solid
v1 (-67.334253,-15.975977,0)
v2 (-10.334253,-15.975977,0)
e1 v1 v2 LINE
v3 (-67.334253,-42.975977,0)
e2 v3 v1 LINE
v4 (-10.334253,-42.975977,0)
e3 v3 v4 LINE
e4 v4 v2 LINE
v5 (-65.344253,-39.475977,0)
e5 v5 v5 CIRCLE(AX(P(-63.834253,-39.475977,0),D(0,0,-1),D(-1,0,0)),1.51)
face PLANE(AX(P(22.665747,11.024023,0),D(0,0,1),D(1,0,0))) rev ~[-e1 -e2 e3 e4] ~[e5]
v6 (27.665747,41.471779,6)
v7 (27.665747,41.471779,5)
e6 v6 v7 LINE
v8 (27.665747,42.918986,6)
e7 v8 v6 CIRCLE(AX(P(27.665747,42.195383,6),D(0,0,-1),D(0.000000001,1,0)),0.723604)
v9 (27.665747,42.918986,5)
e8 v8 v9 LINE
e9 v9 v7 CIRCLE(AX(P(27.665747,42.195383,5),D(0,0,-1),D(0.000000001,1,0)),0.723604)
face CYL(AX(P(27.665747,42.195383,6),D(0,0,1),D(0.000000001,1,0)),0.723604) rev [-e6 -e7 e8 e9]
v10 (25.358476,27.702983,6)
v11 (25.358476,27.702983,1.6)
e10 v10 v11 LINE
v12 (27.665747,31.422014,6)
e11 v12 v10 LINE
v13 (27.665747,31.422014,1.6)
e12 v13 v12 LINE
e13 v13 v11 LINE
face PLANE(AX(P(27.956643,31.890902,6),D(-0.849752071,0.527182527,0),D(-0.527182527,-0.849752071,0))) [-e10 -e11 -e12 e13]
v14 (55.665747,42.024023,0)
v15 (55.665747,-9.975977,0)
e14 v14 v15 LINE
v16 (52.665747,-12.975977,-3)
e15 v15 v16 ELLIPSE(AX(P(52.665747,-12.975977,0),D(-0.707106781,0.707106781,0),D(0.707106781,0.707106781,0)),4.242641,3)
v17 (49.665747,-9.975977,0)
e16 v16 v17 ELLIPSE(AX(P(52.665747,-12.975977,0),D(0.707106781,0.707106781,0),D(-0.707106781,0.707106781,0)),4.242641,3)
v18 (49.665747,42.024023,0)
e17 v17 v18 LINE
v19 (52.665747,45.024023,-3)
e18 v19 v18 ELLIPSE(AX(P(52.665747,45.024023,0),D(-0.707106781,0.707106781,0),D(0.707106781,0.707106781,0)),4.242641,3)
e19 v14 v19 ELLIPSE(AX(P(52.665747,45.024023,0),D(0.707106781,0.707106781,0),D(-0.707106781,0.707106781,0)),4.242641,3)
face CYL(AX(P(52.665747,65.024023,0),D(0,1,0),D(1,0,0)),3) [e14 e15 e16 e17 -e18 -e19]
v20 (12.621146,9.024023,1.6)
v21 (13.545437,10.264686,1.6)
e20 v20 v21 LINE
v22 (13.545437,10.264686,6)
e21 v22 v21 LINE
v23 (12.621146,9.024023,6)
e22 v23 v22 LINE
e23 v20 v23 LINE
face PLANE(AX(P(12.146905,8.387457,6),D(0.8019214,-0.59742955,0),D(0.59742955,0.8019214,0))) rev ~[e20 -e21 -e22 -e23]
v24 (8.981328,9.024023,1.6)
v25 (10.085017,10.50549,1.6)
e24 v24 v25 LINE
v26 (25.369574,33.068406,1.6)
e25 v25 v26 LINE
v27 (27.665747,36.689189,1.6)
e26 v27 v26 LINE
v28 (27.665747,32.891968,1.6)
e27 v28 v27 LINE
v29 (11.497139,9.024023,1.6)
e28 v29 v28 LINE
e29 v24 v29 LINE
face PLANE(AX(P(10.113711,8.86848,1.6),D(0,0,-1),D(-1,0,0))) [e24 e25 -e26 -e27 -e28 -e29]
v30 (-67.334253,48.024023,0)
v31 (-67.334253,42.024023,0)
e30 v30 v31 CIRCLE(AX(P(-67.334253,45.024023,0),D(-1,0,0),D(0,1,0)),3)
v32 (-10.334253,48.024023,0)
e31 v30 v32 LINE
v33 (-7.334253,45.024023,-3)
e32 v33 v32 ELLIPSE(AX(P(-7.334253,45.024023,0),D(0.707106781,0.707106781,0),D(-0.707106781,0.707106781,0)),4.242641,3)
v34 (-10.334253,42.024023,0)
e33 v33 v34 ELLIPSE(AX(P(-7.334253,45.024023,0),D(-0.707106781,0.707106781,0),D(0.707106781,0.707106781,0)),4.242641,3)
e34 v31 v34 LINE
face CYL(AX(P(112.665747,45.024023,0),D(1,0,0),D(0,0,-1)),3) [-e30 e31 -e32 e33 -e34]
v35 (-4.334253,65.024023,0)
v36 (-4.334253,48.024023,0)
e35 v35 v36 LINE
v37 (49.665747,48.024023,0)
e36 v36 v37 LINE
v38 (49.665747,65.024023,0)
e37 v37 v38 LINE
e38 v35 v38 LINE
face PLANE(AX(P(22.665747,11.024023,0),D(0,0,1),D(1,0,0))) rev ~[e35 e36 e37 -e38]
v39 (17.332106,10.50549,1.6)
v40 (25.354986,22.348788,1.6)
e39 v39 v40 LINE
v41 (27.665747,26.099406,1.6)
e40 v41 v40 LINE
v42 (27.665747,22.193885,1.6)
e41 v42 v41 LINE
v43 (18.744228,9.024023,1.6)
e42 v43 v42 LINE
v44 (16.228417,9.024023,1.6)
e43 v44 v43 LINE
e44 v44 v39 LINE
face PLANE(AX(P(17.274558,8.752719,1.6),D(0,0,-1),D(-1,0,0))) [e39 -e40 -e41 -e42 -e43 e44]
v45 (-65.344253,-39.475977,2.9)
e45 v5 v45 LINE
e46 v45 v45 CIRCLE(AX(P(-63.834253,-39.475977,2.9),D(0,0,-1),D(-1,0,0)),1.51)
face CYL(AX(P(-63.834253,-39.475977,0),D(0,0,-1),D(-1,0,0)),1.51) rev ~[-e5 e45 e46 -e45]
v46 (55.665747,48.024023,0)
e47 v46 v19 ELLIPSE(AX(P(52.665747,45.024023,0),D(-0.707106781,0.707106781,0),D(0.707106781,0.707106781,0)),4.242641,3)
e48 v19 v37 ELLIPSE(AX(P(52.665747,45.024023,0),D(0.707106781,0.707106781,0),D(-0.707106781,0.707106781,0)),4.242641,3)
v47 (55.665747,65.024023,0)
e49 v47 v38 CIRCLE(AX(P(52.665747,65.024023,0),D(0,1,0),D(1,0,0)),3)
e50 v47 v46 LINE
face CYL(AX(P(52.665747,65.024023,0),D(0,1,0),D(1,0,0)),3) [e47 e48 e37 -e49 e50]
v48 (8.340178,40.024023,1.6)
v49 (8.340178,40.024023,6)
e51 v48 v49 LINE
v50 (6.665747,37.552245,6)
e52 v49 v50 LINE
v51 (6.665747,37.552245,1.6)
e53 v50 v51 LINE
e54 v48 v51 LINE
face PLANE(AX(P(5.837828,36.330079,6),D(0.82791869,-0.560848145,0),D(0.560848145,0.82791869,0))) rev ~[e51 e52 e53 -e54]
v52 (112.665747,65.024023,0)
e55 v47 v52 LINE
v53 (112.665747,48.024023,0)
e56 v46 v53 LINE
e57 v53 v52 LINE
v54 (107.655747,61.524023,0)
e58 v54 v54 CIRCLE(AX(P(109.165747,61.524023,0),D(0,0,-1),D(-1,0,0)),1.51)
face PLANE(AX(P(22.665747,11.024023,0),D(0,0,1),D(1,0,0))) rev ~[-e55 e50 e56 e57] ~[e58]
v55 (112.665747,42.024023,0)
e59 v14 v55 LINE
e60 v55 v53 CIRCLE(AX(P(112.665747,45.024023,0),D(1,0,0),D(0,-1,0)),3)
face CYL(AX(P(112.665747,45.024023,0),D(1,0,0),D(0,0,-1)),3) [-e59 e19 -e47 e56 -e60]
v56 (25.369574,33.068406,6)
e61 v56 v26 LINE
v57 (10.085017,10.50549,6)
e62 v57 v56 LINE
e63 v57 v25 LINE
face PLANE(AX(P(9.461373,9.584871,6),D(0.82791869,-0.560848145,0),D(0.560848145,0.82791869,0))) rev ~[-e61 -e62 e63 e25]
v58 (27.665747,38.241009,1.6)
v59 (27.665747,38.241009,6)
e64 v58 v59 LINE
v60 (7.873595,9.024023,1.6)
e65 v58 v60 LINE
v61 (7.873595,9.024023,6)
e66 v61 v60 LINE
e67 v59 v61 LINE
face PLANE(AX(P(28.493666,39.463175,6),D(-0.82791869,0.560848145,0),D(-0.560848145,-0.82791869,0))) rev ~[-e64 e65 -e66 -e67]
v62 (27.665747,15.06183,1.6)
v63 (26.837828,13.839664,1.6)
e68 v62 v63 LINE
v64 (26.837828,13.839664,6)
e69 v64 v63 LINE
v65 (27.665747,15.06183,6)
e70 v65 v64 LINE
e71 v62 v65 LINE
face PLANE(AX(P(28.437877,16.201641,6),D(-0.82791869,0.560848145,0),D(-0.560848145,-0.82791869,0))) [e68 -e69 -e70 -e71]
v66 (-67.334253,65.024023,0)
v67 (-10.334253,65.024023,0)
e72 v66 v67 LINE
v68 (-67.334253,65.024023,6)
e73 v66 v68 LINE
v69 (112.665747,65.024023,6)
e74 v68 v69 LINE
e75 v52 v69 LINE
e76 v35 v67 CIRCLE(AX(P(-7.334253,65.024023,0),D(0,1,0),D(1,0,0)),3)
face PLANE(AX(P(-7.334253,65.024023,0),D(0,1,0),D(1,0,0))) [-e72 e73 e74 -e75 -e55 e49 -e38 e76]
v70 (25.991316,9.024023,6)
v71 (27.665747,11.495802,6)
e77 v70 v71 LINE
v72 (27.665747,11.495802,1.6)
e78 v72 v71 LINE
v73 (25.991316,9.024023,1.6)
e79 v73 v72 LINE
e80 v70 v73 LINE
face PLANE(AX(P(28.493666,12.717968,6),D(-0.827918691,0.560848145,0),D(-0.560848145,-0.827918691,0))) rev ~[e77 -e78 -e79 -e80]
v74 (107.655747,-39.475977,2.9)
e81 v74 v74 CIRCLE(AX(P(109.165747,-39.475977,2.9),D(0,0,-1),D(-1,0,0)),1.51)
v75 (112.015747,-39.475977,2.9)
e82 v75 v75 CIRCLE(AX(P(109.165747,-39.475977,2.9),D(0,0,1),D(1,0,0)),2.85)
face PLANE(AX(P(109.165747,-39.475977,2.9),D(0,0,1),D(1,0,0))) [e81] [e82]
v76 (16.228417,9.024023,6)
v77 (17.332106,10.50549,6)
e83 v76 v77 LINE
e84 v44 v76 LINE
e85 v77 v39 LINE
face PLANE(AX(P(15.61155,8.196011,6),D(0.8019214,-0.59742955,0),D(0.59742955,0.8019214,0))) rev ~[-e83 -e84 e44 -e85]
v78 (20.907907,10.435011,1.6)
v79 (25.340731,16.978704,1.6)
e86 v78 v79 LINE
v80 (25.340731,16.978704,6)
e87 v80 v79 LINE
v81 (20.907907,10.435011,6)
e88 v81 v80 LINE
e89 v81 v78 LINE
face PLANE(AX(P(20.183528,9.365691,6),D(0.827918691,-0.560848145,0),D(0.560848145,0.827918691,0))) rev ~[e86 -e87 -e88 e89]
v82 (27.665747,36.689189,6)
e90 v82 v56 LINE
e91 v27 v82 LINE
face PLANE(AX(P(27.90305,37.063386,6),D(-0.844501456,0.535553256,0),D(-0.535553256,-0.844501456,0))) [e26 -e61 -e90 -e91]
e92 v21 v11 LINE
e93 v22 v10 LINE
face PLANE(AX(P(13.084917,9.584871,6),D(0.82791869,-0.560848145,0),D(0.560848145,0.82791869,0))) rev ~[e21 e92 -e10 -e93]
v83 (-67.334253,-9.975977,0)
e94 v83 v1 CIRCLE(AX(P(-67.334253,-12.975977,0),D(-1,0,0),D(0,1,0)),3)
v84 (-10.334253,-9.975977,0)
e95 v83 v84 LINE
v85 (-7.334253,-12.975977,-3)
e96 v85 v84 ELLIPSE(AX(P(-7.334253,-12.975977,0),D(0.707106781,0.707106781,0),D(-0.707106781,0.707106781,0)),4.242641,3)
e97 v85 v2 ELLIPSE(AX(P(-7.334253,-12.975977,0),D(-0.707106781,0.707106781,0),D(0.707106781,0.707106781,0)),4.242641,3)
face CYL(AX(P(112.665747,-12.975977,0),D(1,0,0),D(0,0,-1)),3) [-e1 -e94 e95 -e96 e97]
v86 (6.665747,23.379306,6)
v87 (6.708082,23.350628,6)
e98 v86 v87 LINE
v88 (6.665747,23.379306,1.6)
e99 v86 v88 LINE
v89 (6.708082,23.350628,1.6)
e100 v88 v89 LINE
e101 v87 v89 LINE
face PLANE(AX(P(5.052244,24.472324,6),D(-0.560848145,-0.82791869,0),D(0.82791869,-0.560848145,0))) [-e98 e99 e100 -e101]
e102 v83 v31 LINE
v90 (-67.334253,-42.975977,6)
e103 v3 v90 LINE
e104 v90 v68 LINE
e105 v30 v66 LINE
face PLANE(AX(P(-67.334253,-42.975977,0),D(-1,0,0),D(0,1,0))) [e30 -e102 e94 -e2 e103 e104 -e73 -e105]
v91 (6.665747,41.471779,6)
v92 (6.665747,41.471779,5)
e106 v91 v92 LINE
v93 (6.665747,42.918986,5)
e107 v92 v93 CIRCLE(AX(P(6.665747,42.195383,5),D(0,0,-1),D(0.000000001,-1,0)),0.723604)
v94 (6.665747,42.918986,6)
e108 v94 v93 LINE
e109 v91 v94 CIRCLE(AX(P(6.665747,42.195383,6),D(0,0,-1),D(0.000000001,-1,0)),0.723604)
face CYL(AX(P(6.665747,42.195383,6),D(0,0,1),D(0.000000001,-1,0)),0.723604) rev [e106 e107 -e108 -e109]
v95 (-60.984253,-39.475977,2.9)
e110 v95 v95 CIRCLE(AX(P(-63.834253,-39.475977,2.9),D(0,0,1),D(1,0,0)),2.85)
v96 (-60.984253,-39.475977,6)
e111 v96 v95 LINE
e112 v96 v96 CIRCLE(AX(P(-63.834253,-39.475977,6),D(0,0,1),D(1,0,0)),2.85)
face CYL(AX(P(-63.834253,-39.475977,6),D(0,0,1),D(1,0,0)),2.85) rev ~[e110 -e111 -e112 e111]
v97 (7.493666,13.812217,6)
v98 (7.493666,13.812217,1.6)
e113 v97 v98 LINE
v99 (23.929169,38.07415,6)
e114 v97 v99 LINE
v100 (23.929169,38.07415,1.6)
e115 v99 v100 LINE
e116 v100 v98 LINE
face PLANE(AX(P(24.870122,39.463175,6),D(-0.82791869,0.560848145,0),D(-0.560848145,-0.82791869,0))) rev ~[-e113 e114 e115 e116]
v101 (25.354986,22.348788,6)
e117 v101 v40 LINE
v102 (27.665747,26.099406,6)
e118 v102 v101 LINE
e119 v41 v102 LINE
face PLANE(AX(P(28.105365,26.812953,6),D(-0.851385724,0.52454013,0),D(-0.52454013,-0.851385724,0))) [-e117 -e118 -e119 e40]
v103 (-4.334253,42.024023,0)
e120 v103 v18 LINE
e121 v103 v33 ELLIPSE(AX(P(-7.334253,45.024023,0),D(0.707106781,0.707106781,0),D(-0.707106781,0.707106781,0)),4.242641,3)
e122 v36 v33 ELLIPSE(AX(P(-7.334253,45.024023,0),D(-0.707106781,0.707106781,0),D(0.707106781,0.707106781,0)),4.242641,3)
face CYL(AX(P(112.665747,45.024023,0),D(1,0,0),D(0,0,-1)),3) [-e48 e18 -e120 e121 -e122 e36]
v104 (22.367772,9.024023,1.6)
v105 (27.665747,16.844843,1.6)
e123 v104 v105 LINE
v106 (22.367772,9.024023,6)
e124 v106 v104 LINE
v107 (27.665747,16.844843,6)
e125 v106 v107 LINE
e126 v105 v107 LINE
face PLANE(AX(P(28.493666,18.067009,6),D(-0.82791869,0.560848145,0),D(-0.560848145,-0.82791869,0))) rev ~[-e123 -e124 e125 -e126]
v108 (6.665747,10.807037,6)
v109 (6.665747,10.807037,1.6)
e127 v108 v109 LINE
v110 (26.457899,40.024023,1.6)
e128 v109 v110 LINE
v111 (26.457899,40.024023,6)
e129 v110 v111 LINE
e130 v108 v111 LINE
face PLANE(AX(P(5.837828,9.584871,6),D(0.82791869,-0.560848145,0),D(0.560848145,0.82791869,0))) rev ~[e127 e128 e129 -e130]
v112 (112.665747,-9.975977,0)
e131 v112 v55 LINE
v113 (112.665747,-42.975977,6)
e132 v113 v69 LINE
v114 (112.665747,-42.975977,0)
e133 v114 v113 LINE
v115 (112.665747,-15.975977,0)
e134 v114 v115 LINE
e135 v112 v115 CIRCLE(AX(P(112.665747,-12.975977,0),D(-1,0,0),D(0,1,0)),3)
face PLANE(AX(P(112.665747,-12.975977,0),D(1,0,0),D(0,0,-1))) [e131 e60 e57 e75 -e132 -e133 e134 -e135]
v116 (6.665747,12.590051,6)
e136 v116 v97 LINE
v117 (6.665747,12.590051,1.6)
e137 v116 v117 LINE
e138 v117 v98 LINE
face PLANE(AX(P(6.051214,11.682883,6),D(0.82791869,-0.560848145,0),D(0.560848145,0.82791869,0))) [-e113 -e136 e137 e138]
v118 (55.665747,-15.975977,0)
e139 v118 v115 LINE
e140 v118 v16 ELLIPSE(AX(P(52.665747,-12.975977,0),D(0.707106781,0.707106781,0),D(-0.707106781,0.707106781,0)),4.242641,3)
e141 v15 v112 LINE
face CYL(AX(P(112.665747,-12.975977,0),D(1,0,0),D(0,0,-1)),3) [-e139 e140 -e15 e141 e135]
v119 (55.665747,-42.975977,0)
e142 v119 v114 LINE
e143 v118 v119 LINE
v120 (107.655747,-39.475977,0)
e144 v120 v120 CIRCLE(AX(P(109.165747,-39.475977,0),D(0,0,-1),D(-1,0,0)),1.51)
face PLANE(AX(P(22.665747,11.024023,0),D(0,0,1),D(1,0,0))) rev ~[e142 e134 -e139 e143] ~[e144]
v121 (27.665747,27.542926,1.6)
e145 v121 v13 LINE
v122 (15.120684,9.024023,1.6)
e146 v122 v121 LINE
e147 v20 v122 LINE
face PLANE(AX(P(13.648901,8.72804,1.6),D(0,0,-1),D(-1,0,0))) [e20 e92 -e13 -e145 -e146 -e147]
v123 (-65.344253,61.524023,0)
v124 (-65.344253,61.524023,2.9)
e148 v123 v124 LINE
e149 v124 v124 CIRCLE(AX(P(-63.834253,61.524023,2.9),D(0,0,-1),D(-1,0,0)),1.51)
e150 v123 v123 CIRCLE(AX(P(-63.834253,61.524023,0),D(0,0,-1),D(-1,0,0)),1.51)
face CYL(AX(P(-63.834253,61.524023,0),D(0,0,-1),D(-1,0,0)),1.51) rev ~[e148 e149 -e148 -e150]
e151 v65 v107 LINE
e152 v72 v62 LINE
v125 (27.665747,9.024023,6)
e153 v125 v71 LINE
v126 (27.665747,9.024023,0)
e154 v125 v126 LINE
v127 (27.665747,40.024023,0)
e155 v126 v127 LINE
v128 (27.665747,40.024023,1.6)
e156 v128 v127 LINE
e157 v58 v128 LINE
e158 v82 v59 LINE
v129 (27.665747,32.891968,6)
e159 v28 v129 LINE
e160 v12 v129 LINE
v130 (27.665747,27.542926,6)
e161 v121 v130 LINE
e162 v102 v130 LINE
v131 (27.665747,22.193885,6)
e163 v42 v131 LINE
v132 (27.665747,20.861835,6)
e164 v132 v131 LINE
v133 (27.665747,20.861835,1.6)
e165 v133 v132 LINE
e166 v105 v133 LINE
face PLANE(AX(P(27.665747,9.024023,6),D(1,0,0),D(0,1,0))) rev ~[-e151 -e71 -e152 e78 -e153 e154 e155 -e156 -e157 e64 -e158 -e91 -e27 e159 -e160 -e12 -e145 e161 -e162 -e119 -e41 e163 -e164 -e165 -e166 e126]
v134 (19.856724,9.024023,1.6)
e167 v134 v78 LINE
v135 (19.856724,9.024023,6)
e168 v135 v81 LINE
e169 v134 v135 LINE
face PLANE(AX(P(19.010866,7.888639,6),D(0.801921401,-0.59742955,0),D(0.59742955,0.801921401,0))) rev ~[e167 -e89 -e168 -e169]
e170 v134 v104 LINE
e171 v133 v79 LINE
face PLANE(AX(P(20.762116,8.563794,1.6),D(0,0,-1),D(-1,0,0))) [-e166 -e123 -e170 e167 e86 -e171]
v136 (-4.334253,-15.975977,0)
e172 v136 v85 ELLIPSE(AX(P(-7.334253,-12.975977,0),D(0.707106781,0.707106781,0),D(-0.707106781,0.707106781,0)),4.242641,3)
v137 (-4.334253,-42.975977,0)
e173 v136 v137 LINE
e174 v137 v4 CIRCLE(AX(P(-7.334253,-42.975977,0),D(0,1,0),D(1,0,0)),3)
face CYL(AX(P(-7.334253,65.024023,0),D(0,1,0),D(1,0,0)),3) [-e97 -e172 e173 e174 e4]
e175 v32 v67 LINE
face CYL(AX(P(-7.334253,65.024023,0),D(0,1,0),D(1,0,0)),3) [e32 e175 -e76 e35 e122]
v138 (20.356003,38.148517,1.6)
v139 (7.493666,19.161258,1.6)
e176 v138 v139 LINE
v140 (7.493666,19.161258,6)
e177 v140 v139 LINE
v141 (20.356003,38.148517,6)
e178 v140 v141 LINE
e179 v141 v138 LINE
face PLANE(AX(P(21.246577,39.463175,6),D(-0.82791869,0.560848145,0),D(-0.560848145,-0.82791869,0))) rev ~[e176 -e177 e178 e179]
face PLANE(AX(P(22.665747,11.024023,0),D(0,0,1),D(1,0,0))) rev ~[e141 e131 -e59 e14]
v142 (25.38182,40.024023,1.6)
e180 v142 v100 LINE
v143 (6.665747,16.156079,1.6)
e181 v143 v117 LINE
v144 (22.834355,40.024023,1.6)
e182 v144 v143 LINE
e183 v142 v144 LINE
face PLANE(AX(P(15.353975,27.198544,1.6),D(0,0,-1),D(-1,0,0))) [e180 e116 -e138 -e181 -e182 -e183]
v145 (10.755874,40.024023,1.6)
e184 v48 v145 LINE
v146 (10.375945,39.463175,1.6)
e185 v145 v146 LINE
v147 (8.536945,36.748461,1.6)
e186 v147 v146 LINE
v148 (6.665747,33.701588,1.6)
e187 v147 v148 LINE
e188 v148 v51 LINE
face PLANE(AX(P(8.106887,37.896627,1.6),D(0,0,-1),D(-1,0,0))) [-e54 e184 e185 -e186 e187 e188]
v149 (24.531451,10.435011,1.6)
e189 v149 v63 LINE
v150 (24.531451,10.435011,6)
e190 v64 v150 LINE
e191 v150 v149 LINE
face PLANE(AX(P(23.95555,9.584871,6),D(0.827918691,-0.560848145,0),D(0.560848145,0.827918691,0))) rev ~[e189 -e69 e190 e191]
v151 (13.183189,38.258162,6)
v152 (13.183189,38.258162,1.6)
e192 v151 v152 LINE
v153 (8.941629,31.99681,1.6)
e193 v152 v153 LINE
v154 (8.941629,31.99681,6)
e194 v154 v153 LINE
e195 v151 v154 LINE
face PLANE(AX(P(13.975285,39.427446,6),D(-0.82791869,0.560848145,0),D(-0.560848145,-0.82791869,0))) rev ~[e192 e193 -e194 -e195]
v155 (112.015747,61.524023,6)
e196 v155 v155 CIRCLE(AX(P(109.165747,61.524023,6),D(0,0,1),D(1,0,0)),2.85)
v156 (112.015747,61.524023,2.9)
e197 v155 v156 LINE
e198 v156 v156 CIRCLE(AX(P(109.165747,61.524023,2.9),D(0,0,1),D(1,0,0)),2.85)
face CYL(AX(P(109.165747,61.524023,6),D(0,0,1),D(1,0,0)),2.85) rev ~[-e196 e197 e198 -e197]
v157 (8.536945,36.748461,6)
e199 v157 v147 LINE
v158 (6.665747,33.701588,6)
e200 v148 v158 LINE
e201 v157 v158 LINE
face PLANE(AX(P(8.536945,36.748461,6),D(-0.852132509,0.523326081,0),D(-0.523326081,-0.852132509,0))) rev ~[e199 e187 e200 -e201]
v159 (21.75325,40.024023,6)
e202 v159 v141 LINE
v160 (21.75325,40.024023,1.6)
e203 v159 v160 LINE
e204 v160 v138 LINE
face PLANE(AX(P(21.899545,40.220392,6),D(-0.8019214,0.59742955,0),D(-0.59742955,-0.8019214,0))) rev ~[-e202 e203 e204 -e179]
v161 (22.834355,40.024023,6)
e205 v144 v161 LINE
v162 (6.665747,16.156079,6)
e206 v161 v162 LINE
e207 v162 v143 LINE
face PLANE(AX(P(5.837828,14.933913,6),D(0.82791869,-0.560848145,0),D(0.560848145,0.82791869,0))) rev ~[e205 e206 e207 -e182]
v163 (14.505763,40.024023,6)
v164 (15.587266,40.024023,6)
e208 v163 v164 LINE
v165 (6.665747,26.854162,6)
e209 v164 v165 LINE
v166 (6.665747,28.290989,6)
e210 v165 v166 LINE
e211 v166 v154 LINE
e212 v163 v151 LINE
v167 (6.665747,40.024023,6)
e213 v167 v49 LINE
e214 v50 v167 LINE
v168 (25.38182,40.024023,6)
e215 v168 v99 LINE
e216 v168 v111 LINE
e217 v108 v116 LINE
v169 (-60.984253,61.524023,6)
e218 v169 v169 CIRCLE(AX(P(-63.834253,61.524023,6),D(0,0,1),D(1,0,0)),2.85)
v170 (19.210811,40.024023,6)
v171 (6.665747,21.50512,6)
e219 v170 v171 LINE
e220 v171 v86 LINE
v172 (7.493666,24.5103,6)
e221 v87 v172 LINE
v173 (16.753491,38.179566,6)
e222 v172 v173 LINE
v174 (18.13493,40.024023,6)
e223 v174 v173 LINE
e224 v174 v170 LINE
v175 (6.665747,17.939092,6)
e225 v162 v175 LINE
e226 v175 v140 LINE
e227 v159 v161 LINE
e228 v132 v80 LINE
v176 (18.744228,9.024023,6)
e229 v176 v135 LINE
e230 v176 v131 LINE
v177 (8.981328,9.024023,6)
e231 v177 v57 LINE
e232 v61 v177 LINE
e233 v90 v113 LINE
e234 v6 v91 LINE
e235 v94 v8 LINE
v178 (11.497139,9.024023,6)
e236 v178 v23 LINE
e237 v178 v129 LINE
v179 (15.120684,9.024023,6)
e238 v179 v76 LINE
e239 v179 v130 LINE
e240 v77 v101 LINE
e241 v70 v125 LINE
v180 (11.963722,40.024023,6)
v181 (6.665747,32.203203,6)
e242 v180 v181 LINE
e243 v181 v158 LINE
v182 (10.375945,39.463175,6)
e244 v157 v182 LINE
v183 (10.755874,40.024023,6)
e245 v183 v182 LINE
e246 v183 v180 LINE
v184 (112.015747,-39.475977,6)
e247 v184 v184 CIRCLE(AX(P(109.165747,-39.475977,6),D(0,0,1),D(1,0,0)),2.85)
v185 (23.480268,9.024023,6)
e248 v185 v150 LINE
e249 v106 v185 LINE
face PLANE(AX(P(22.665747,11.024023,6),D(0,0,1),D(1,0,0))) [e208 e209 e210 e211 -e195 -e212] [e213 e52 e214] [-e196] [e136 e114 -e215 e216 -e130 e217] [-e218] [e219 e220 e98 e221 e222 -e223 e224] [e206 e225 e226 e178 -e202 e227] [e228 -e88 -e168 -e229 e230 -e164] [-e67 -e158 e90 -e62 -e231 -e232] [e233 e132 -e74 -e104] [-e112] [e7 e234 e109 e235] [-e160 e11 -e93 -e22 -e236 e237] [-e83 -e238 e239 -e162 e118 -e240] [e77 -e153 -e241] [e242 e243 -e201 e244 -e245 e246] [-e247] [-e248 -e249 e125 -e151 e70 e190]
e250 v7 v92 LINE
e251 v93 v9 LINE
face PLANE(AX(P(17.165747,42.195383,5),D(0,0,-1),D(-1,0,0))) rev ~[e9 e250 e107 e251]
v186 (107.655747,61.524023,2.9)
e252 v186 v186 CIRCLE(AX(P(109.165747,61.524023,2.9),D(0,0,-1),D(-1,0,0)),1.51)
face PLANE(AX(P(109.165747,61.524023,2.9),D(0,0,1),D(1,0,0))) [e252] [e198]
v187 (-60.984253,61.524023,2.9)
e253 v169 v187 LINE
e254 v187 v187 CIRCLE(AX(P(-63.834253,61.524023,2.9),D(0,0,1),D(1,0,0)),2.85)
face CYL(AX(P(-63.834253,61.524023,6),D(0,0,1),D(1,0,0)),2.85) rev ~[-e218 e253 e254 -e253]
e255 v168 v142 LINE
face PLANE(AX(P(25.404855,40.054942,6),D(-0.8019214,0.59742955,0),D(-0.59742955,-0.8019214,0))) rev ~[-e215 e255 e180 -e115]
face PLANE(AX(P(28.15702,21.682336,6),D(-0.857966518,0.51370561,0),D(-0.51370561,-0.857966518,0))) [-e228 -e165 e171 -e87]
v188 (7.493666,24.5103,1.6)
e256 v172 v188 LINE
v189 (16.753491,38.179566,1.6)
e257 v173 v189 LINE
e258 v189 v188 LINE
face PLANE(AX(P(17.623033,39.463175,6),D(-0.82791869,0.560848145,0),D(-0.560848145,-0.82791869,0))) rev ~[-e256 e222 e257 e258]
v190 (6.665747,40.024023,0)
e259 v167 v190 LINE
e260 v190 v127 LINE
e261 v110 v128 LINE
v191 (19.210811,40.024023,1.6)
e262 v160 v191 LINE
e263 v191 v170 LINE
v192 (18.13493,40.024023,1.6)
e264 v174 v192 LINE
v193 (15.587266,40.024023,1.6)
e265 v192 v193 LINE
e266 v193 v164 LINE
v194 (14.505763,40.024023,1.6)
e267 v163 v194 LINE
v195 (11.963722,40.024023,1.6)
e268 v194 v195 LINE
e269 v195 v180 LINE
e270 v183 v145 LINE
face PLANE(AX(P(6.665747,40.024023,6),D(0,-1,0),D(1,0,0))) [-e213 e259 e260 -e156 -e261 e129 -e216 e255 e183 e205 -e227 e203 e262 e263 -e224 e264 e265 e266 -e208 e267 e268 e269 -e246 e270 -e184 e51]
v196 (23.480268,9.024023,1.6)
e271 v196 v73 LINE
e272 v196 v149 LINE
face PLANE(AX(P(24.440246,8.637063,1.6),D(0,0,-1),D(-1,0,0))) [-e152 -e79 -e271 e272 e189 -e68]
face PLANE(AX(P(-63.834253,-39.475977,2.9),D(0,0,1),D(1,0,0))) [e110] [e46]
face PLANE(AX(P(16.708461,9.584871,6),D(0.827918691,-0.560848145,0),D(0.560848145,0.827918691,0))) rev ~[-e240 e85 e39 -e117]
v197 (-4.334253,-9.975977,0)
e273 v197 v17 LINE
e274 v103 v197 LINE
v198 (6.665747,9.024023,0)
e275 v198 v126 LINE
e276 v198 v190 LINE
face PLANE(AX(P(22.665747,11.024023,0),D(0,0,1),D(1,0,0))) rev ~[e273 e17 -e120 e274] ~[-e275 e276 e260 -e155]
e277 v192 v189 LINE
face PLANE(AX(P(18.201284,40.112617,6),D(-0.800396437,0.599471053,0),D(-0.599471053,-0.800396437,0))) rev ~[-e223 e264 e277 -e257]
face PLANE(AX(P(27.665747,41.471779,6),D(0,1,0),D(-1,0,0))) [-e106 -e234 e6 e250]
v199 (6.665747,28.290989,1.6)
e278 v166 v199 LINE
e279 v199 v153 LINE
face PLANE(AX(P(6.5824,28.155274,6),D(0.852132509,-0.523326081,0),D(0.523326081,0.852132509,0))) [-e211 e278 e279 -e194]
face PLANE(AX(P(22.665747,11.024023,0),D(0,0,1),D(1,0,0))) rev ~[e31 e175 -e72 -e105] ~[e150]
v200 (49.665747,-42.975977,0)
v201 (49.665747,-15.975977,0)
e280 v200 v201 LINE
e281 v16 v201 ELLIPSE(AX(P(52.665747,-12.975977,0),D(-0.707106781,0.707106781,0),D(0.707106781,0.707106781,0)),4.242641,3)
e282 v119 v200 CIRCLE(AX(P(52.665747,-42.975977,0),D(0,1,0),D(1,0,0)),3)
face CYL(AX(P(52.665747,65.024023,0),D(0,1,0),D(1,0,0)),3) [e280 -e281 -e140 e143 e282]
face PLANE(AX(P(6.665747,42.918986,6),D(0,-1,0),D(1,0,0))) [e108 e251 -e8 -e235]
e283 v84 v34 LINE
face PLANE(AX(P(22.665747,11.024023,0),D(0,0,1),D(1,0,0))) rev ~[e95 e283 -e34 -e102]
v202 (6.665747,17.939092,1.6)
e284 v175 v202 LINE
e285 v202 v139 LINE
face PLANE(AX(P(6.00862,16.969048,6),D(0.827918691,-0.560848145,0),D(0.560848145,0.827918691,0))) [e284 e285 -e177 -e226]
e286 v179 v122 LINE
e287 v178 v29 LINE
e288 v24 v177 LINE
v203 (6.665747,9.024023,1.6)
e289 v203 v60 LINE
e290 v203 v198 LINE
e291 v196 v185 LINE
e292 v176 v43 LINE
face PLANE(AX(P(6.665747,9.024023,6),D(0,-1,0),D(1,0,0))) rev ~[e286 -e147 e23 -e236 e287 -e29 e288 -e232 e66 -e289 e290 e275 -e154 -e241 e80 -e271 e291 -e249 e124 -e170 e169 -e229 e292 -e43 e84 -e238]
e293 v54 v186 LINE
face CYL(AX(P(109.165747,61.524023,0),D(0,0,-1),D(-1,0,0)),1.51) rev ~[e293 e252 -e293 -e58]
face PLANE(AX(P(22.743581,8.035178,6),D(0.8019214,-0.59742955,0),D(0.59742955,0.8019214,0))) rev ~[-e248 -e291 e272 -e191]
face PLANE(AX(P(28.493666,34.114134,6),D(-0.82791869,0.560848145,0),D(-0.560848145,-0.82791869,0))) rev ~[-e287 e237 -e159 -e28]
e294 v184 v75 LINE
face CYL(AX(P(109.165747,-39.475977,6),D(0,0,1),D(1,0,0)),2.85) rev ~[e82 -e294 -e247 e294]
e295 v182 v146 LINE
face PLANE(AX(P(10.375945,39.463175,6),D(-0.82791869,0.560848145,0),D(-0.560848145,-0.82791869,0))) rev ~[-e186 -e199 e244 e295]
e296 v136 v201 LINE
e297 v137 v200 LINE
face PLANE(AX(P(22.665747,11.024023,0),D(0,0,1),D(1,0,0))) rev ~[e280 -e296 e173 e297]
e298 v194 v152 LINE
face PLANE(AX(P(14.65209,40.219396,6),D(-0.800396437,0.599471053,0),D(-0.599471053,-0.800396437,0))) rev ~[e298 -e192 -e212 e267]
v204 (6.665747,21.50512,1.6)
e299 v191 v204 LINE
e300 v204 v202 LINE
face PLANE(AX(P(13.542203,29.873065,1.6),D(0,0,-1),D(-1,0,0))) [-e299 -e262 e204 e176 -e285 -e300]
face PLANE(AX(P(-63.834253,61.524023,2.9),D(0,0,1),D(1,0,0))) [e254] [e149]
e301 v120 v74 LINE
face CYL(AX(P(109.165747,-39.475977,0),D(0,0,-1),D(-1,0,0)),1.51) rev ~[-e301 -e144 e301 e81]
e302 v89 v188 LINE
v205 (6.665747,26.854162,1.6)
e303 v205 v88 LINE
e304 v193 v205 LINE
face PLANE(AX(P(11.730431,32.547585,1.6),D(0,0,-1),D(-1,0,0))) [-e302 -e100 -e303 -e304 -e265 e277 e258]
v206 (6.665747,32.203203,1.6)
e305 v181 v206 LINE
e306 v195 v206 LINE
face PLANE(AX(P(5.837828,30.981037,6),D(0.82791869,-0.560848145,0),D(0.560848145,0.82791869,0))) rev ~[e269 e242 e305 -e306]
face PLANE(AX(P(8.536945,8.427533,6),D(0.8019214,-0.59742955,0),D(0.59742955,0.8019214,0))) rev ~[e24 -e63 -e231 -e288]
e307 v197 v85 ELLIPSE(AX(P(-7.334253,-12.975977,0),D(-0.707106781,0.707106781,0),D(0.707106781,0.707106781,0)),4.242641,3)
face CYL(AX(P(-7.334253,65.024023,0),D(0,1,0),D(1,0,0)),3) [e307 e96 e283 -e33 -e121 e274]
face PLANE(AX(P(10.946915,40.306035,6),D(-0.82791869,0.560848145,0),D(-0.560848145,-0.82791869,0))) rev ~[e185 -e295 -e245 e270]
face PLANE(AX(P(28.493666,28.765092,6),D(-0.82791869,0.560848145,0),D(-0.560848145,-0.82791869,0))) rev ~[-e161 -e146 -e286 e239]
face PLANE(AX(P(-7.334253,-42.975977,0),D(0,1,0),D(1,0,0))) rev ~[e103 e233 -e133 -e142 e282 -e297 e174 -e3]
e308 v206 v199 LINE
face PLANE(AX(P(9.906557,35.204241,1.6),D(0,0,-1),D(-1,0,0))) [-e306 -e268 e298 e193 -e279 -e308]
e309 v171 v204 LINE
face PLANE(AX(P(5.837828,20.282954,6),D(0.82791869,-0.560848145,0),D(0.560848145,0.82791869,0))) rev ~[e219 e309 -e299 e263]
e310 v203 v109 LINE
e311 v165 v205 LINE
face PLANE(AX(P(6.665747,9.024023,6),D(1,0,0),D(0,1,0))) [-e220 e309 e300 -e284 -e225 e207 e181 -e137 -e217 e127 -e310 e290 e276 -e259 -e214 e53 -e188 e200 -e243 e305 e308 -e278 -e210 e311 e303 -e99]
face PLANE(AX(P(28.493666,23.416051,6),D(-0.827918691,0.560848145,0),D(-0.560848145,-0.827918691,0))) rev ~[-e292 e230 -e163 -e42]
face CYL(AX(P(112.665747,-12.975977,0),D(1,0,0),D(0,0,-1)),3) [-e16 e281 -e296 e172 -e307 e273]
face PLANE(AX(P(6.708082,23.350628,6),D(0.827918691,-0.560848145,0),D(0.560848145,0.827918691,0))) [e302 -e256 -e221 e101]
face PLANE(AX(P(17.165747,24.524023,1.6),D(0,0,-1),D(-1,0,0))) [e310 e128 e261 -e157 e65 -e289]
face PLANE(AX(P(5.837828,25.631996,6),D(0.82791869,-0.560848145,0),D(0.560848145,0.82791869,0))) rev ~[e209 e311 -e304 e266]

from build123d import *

# Parameters (mm, degrees)
SKETCH_1_W           = 180
SKETCH_1_H           = 108
EXTRUDE_4_DEPTH      = 6
SKETCH_3_R           = 2.85
EXTRUDE_8_DEPTH      = 5.7
SKETCH_4_R           = 2.85
EXTRUDE_9_DEPTH      = 3.1
SKETCH_5_R           = 2.85
CUT_EXTRUDE_1_DEPTH  = 3.1
SKETCH_7_R           = 2.85
CUT_EXTRUDE_2_DEPTH  = 3.1
SKETCH_8_R           = 2.85
CUT_EXTRUDE_3_DEPTH  = 3.1
SKETCH_9_R           = 2.85
CUT_EXTRUDE_4_DEPTH  = 3.1
SKETCH_10_R          = 1.51
CUT_EXTRUDE_5_DEPTH  = 3.1
SKETCH_11_R          = 1.51
CUT_EXTRUDE_6_DEPTH  = 3.1
SKETCH_12_R          = 1.51
CUT_EXTRUDE_7_DEPTH  = 3.1
SKETCH_13_R          = 1.51
CUT_EXTRUDE_8_DEPTH  = 3.1
SKETCH_14_W          = 21
SKETCH_14_H          = 31
CUT_EXTRUDE_10_DEPTH = 10
CUT_EXTRUDE_12_DEPTH = 1
EXTRUDE_10_DEPTH     = 4.4
EXTRUDE_12_DEPTH     = 4.4
SKETCH_18_R          = 3
EXTRUDE_15_DEPTH     = 108
SKETCH_21_R          = 3
EXTRUDE_16_DEPTH     = 180


with BuildPart() as part:
    # 草图1 → 凸台-拉伸4 (new body)
    with BuildSketch(Plane.XY):
        with Locations((22.665747166, 11.024023211)):
            Rectangle(SKETCH_1_W, SKETCH_1_H)
    extrude(amount=EXTRUDE_4_DEPTH)

    # 草图3 → 凸台-拉伸8 (add)
    with BuildSketch(Plane.XY.offset(6)):
        with Locations((109.165747166, 61.524023211)):
            Circle(SKETCH_3_R)
    extrude(amount=-EXTRUDE_8_DEPTH)

    # 草图4 → 凸台-拉伸9 (add)
    with BuildSketch(Plane.XY.offset(6)):
        with Locations((-63.834252834, 61.524023211)):
            Circle(SKETCH_4_R)
    extrude(amount=-EXTRUDE_9_DEPTH)

    # 草图5 → 切除-拉伸1 (cut)
    with BuildSketch(Plane.XY.offset(6)):
        with Locations((-63.834252834, 61.524023211)):
            Circle(SKETCH_5_R)
    extrude(amount=-CUT_EXTRUDE_1_DEPTH, mode=Mode.SUBTRACT)

    # 草图7 → 切除-拉伸2 (cut)
    with BuildSketch(Plane.XY.offset(6)):
        with Locations((109.165747166, 61.524023211)):
            Circle(SKETCH_7_R)
    extrude(amount=-CUT_EXTRUDE_2_DEPTH, mode=Mode.SUBTRACT)

    # 草图8 → 切除-拉伸3 (cut)
    with BuildSketch(Plane.XY.offset(6)):
        with Locations((-63.834252834, -39.475976789)):
            Circle(SKETCH_8_R)
    extrude(amount=-CUT_EXTRUDE_3_DEPTH, mode=Mode.SUBTRACT)

    # 草图9 → 切除-拉伸4 (cut)
    with BuildSketch(Plane.XY.offset(6)):
        with Locations((109.165747166, -39.475976789)):
            Circle(SKETCH_9_R)
    extrude(amount=-CUT_EXTRUDE_4_DEPTH, mode=Mode.SUBTRACT)

    # 草图10 → 切除-拉伸5 (cut)
    with BuildSketch(Plane(origin=(0, 0, 0), x_dir=(-1, 0, 0), z_dir=(0, 0, -1))):
        with Locations((-109.165747166, 61.524023211)):
            Circle(SKETCH_10_R)
    extrude(amount=-CUT_EXTRUDE_5_DEPTH, mode=Mode.SUBTRACT)

    # 草图11 → 切除-拉伸6 (cut)
    with BuildSketch(Plane(origin=(0, 0, 0), x_dir=(-1, 0, 0), z_dir=(0, 0, -1))):
        with Locations((-109.165747166, -39.475976789)):
            Circle(SKETCH_11_R)
    extrude(amount=-CUT_EXTRUDE_6_DEPTH, mode=Mode.SUBTRACT)

    # 草图12 → 切除-拉伸7 (cut)
    with BuildSketch(Plane(origin=(0, 0, 0), x_dir=(-1, 0, 0), z_dir=(0, 0, -1))):
        with Locations((63.834252834, 61.524023211)):
            Circle(SKETCH_12_R)
    extrude(amount=-CUT_EXTRUDE_7_DEPTH, mode=Mode.SUBTRACT)

    # 草图13 → 切除-拉伸8 (cut)
    with BuildSketch(Plane(origin=(0, 0, 0), x_dir=(-1, 0, 0), z_dir=(0, 0, -1))):
        with Locations((63.834252834, -39.475976789)):
            Circle(SKETCH_13_R)
    extrude(amount=-CUT_EXTRUDE_8_DEPTH, mode=Mode.SUBTRACT)

    # 草图14 → 切除-拉伸10 (cut)
    with BuildSketch(Plane.XY.offset(6)):
        with Locations((17.165747166, 24.524023211)):
            Rectangle(SKETCH_14_W, SKETCH_14_H)
    extrude(amount=-CUT_EXTRUDE_10_DEPTH, mode=Mode.SUBTRACT)

    # 草图15 → 切除-拉伸12 (cut)
    with BuildSketch(Plane.XY.offset(6)):
        with BuildLine():
            Line((6.665747166, 42.91898623), (27.665747166, 42.91898623))
            ThreePointArc((27.665747166, 42.91898623), (28.389350728, 42.195382667), (27.665747166, 41.471779105))
            Line((27.665747166, 41.471779105), (6.665747166, 41.471779105))
            ThreePointArc((6.665747166, 41.471779105), (5.942143603, 42.195382667), (6.665747166, 42.91898623))
        make_face()
    extrude(amount=-CUT_EXTRUDE_12_DEPTH, mode=Mode.SUBTRACT)

    # 草图16 → 凸台-拉伸10 (add)
    with BuildSketch(Plane.XY.offset(6)):
        with BuildLine():
            Line((28.493665856, 39.463175066), (7.493665856, 8.463175066))
            ThreePointArc((7.493665856, 8.463175066), (6.104899021, 8.19610452), (5.837828475, 9.584871356))
            Line((5.837828475, 9.584871356), (26.837828475, 40.584871356))
            ThreePointArc((26.837828475, 40.584871356), (28.226595311, 40.851941901), (28.493665856, 39.463175066))
        make_face()
        with BuildLine():
            Line((24.870121619, 39.463175066), (7.493665856, 13.812216559))
            ThreePointArc((7.493665856, 13.812216559), (6.104899021, 13.545146014), (5.837828475, 14.933912849))
            Line((5.837828475, 14.933912849), (23.214284238, 40.584871356))
            ThreePointArc((23.214284238, 40.584871356), (24.603051073, 40.851941901), (24.870121619, 39.463175066))
        make_face()
        with BuildLine():
            Line((21.246577381, 39.463175066), (7.493665856, 19.161258052))
            ThreePointArc((7.493665856, 19.161258052), (6.104899021, 18.894187507), (5.837828475, 20.282954343))
            Line((5.837828475, 20.282954343), (19.59074, 40.584871356))
            ThreePointArc((19.59074, 40.584871356), (20.979506836, 40.851941901), (21.246577381, 39.463175066))
        make_face()
        with BuildLine():
            Line((17.623033144, 39.463175066), (7.493665856, 24.510299546))
            ThreePointArc((7.493665856, 24.510299546), (6.104899021, 24.243229001), (5.837828475, 25.631995836))
            Line((5.837828475, 25.631995836), (15.967195763, 40.584871356))
            ThreePointArc((15.967195763, 40.584871356), (17.355962599, 40.851941901), (17.623033144, 39.463175066))
        make_face()
        with BuildLine():
            Line((13.975285013, 39.427445509), (7.493665856, 29.859341039))
            ThreePointArc((7.493665856, 29.859341039), (6.104899021, 29.592270494), (5.837828475, 30.98103733))
            Line((5.837828475, 30.98103733), (12.319447632, 40.549141799))
            ThreePointArc((12.319447632, 40.549141799), (13.708214468, 40.816212345), (13.975285013, 39.427445509))
        make_face()
        with BuildLine():
            Line((10.375944669, 39.463175066), (7.493665856, 35.208382533))
            ThreePointArc((7.493665856, 35.208382533), (6.104899021, 34.941311987), (5.837828475, 36.330078823))
            Line((5.837828475, 36.330078823), (8.720107288, 40.584871356))
            ThreePointArc((8.720107288, 40.584871356), (10.108874124, 40.851941901), (10.375944669, 39.463175066))
        make_face()
        with BuildLine():
            Line((28.493665856, 34.114133572), (11.117210094, 8.463175066))
            ThreePointArc((11.117210094, 8.463175066), (9.728443258, 8.19610452), (9.461372713, 9.584871356))
            Line((9.461372713, 9.584871356), (26.837828475, 35.235829863))
            ThreePointArc((26.837828475, 35.235829863), (28.226595311, 35.502900408), (28.493665856, 34.114133572))
        make_face()
        with BuildLine():
            Line((28.493665856, 28.765092079), (14.740754331, 8.463175066))
            ThreePointArc((14.740754331, 8.463175066), (13.351987496, 8.19610452), (13.08491695, 9.584871356))
            Line((13.08491695, 9.584871356), (26.837828475, 29.886788369))
            ThreePointArc((26.837828475, 29.886788369), (28.226595311, 30.153858915), (28.493665856, 28.765092079))
        make_face()
        with BuildLine():
            Line((28.493665856, 18.067009092), (21.839365483, 8.243994256))
            ThreePointArc((21.839365483, 8.243994256), (20.450598648, 7.976923711), (20.183528102, 9.365690546))
            Line((20.183528102, 9.365690546), (26.837828475, 19.188705383))
            ThreePointArc((26.837828475, 19.188705383), (28.226595311, 19.455775928), (28.493665856, 18.067009092))
        make_face()
        with BuildLine():
            Line((28.493665856, 12.717967599), (25.611387044, 8.463175066))
            ThreePointArc((25.611387044, 8.463175066), (24.222620208, 8.19610452), (23.955549663, 9.584871356))
            Line((23.955549663, 9.584871356), (26.837828475, 13.839663889))
            ThreePointArc((26.837828475, 13.839663889), (28.226595311, 14.106734434), (28.493665856, 12.717967599))
        make_face()
        with BuildLine():
            Line((28.493665856, 23.416050586), (18.364298569, 8.463175066))
            ThreePointArc((18.364298569, 8.463175066), (16.975531733, 8.19610452), (16.708461188, 9.584871356))
            Line((16.708461188, 9.584871356), (26.837828475, 24.537746876))
            ThreePointArc((26.837828475, 24.537746876), (28.226595311, 24.804817421), (28.493665856, 23.416050586))
        make_face()
    extrude(amount=-EXTRUDE_10_DEPTH)

    # 草图17 → 凸台-拉伸12 (add)
    with BuildSketch(Plane.XY.offset(6)):
        Polygon((9.291077122, 41.427731587), (10.946914503, 40.306035296), (9.559645246, 38.258161632), (7.903807865, 39.379857922), align=None)
        Polygon((13.049495166, 41.419687565), (14.652090321, 40.219395608), (13.183189483, 38.258161632), (11.580594328, 39.458453588), align=None)
        Polygon((16.598688708, 41.312908479), (18.201283863, 40.112616523), (16.753491495, 38.179565965), (15.15089634, 39.379857922), align=None)
        Polygon((23.799395039, 41.251005631), (25.404854584, 40.05494206), (23.929168948, 38.074149695), (22.323709403, 39.270213267), align=None)
        Polygon((20.294085137, 41.416455751), (21.899544682, 40.220392179), (20.356002546, 38.148516976), (18.750543001, 39.344580548), align=None)
        Polygon((27.059349697, 31.996809719), (29.592825756, 35.991789111), (27.903049923, 37.063385782), (25.369573865, 33.06840639), align=None)
        Polygon((27.059349697, 26.647768225), (29.657516879, 30.835687648), (27.956643474, 31.890902187), (25.358476292, 27.702982765), align=None)
        Polygon((27.059349697, 21.298726732), (29.809729018, 25.762891731), (28.105364864, 26.812953261), (25.354985543, 22.348788261), align=None)
        Polygon((27.059349697, 15.949685239), (29.875638884, 20.653316626), (28.157020256, 21.682335837), (25.340731069, 16.97870445), align=None)
        Polygon((27.400761437, 11.104632504), (30.093714703, 15.079944467), (28.437877322, 16.201640757), (25.744924056, 12.226328794), align=None)
        Polygon((24.34904045, 6.839114616), (22.743580905, 8.035178188), (24.531450984, 10.435011402), (26.136910529, 9.23894783), align=None)
        Polygon((20.616325121, 6.692575775), (19.010865576, 7.888639346), (20.907906746, 10.435011402), (22.513366292, 9.23894783), align=None)
        Polygon((17.217009332, 6.999947538), (15.611549786, 8.196011109), (17.33210575, 10.505489519), (18.937565295, 9.309425947), align=None)
        Polygon((13.752364906, 7.191393443), (12.14690536, 8.387457015), (13.545436794, 10.264686364), (15.15089634, 9.068622793), align=None)
        Polygon((10.142404174, 7.231469503), (8.536944628, 8.427533074), (10.085017275, 10.505489519), (11.69047682, 9.309425947), align=None)
        Polygon((7.407914057, 17.251658231), (4.395376532, 12.804579029), (6.051213913, 11.682882738), (9.063751438, 16.129961941), align=None)
        Polygon((7.235662462, 22.346423561), (4.352783087, 18.090744484), (6.008620468, 16.969048193), (8.891499842, 21.22472727), align=None)
        Polygon((7.235662462, 27.695465054), (5.052244478, 24.472324221), (6.708081859, 23.35062793), (8.891499842, 26.573768764), align=None)
        Polygon((7.235662462, 33.044506547), (4.876433622, 29.202971295), (6.582399671, 28.155274467), (8.94162851, 31.996809719), align=None)
        Polygon((6.83097858, 37.796157549), (8.536944628, 36.74846072), (6.3595402, 33.202990382), (4.653574152, 34.250687211), align=None)
    extrude(amount=-EXTRUDE_12_DEPTH)

    # 草图18 → 凸台-拉伸15 (add)
    with BuildSketch(Plane(origin=(0, 65.024023211, 0), x_dir=(1, 0, 0), z_dir=(0, 1, 0))):
        with Locations((-7.334252834, 0)):
            Circle(SKETCH_18_R)
        with Locations((52.665747166, 0)):
            Circle(SKETCH_18_R)
    extrude(amount=-EXTRUDE_15_DEPTH)

    # 草图21 → 凸台-拉伸16 (add)
    with BuildSketch(Plane(origin=(112.665747166, 0, 0), x_dir=(0, 0, -1), z_dir=(1, 0, 0))):
        with Locations((0, -12.975976789)):
            Circle(SKETCH_21_R)
        with Locations((0, 45.024023211)):
            Circle(SKETCH_21_R)
    extrude(amount=-EXTRUDE_16_DEPTH)


solid = part.part
